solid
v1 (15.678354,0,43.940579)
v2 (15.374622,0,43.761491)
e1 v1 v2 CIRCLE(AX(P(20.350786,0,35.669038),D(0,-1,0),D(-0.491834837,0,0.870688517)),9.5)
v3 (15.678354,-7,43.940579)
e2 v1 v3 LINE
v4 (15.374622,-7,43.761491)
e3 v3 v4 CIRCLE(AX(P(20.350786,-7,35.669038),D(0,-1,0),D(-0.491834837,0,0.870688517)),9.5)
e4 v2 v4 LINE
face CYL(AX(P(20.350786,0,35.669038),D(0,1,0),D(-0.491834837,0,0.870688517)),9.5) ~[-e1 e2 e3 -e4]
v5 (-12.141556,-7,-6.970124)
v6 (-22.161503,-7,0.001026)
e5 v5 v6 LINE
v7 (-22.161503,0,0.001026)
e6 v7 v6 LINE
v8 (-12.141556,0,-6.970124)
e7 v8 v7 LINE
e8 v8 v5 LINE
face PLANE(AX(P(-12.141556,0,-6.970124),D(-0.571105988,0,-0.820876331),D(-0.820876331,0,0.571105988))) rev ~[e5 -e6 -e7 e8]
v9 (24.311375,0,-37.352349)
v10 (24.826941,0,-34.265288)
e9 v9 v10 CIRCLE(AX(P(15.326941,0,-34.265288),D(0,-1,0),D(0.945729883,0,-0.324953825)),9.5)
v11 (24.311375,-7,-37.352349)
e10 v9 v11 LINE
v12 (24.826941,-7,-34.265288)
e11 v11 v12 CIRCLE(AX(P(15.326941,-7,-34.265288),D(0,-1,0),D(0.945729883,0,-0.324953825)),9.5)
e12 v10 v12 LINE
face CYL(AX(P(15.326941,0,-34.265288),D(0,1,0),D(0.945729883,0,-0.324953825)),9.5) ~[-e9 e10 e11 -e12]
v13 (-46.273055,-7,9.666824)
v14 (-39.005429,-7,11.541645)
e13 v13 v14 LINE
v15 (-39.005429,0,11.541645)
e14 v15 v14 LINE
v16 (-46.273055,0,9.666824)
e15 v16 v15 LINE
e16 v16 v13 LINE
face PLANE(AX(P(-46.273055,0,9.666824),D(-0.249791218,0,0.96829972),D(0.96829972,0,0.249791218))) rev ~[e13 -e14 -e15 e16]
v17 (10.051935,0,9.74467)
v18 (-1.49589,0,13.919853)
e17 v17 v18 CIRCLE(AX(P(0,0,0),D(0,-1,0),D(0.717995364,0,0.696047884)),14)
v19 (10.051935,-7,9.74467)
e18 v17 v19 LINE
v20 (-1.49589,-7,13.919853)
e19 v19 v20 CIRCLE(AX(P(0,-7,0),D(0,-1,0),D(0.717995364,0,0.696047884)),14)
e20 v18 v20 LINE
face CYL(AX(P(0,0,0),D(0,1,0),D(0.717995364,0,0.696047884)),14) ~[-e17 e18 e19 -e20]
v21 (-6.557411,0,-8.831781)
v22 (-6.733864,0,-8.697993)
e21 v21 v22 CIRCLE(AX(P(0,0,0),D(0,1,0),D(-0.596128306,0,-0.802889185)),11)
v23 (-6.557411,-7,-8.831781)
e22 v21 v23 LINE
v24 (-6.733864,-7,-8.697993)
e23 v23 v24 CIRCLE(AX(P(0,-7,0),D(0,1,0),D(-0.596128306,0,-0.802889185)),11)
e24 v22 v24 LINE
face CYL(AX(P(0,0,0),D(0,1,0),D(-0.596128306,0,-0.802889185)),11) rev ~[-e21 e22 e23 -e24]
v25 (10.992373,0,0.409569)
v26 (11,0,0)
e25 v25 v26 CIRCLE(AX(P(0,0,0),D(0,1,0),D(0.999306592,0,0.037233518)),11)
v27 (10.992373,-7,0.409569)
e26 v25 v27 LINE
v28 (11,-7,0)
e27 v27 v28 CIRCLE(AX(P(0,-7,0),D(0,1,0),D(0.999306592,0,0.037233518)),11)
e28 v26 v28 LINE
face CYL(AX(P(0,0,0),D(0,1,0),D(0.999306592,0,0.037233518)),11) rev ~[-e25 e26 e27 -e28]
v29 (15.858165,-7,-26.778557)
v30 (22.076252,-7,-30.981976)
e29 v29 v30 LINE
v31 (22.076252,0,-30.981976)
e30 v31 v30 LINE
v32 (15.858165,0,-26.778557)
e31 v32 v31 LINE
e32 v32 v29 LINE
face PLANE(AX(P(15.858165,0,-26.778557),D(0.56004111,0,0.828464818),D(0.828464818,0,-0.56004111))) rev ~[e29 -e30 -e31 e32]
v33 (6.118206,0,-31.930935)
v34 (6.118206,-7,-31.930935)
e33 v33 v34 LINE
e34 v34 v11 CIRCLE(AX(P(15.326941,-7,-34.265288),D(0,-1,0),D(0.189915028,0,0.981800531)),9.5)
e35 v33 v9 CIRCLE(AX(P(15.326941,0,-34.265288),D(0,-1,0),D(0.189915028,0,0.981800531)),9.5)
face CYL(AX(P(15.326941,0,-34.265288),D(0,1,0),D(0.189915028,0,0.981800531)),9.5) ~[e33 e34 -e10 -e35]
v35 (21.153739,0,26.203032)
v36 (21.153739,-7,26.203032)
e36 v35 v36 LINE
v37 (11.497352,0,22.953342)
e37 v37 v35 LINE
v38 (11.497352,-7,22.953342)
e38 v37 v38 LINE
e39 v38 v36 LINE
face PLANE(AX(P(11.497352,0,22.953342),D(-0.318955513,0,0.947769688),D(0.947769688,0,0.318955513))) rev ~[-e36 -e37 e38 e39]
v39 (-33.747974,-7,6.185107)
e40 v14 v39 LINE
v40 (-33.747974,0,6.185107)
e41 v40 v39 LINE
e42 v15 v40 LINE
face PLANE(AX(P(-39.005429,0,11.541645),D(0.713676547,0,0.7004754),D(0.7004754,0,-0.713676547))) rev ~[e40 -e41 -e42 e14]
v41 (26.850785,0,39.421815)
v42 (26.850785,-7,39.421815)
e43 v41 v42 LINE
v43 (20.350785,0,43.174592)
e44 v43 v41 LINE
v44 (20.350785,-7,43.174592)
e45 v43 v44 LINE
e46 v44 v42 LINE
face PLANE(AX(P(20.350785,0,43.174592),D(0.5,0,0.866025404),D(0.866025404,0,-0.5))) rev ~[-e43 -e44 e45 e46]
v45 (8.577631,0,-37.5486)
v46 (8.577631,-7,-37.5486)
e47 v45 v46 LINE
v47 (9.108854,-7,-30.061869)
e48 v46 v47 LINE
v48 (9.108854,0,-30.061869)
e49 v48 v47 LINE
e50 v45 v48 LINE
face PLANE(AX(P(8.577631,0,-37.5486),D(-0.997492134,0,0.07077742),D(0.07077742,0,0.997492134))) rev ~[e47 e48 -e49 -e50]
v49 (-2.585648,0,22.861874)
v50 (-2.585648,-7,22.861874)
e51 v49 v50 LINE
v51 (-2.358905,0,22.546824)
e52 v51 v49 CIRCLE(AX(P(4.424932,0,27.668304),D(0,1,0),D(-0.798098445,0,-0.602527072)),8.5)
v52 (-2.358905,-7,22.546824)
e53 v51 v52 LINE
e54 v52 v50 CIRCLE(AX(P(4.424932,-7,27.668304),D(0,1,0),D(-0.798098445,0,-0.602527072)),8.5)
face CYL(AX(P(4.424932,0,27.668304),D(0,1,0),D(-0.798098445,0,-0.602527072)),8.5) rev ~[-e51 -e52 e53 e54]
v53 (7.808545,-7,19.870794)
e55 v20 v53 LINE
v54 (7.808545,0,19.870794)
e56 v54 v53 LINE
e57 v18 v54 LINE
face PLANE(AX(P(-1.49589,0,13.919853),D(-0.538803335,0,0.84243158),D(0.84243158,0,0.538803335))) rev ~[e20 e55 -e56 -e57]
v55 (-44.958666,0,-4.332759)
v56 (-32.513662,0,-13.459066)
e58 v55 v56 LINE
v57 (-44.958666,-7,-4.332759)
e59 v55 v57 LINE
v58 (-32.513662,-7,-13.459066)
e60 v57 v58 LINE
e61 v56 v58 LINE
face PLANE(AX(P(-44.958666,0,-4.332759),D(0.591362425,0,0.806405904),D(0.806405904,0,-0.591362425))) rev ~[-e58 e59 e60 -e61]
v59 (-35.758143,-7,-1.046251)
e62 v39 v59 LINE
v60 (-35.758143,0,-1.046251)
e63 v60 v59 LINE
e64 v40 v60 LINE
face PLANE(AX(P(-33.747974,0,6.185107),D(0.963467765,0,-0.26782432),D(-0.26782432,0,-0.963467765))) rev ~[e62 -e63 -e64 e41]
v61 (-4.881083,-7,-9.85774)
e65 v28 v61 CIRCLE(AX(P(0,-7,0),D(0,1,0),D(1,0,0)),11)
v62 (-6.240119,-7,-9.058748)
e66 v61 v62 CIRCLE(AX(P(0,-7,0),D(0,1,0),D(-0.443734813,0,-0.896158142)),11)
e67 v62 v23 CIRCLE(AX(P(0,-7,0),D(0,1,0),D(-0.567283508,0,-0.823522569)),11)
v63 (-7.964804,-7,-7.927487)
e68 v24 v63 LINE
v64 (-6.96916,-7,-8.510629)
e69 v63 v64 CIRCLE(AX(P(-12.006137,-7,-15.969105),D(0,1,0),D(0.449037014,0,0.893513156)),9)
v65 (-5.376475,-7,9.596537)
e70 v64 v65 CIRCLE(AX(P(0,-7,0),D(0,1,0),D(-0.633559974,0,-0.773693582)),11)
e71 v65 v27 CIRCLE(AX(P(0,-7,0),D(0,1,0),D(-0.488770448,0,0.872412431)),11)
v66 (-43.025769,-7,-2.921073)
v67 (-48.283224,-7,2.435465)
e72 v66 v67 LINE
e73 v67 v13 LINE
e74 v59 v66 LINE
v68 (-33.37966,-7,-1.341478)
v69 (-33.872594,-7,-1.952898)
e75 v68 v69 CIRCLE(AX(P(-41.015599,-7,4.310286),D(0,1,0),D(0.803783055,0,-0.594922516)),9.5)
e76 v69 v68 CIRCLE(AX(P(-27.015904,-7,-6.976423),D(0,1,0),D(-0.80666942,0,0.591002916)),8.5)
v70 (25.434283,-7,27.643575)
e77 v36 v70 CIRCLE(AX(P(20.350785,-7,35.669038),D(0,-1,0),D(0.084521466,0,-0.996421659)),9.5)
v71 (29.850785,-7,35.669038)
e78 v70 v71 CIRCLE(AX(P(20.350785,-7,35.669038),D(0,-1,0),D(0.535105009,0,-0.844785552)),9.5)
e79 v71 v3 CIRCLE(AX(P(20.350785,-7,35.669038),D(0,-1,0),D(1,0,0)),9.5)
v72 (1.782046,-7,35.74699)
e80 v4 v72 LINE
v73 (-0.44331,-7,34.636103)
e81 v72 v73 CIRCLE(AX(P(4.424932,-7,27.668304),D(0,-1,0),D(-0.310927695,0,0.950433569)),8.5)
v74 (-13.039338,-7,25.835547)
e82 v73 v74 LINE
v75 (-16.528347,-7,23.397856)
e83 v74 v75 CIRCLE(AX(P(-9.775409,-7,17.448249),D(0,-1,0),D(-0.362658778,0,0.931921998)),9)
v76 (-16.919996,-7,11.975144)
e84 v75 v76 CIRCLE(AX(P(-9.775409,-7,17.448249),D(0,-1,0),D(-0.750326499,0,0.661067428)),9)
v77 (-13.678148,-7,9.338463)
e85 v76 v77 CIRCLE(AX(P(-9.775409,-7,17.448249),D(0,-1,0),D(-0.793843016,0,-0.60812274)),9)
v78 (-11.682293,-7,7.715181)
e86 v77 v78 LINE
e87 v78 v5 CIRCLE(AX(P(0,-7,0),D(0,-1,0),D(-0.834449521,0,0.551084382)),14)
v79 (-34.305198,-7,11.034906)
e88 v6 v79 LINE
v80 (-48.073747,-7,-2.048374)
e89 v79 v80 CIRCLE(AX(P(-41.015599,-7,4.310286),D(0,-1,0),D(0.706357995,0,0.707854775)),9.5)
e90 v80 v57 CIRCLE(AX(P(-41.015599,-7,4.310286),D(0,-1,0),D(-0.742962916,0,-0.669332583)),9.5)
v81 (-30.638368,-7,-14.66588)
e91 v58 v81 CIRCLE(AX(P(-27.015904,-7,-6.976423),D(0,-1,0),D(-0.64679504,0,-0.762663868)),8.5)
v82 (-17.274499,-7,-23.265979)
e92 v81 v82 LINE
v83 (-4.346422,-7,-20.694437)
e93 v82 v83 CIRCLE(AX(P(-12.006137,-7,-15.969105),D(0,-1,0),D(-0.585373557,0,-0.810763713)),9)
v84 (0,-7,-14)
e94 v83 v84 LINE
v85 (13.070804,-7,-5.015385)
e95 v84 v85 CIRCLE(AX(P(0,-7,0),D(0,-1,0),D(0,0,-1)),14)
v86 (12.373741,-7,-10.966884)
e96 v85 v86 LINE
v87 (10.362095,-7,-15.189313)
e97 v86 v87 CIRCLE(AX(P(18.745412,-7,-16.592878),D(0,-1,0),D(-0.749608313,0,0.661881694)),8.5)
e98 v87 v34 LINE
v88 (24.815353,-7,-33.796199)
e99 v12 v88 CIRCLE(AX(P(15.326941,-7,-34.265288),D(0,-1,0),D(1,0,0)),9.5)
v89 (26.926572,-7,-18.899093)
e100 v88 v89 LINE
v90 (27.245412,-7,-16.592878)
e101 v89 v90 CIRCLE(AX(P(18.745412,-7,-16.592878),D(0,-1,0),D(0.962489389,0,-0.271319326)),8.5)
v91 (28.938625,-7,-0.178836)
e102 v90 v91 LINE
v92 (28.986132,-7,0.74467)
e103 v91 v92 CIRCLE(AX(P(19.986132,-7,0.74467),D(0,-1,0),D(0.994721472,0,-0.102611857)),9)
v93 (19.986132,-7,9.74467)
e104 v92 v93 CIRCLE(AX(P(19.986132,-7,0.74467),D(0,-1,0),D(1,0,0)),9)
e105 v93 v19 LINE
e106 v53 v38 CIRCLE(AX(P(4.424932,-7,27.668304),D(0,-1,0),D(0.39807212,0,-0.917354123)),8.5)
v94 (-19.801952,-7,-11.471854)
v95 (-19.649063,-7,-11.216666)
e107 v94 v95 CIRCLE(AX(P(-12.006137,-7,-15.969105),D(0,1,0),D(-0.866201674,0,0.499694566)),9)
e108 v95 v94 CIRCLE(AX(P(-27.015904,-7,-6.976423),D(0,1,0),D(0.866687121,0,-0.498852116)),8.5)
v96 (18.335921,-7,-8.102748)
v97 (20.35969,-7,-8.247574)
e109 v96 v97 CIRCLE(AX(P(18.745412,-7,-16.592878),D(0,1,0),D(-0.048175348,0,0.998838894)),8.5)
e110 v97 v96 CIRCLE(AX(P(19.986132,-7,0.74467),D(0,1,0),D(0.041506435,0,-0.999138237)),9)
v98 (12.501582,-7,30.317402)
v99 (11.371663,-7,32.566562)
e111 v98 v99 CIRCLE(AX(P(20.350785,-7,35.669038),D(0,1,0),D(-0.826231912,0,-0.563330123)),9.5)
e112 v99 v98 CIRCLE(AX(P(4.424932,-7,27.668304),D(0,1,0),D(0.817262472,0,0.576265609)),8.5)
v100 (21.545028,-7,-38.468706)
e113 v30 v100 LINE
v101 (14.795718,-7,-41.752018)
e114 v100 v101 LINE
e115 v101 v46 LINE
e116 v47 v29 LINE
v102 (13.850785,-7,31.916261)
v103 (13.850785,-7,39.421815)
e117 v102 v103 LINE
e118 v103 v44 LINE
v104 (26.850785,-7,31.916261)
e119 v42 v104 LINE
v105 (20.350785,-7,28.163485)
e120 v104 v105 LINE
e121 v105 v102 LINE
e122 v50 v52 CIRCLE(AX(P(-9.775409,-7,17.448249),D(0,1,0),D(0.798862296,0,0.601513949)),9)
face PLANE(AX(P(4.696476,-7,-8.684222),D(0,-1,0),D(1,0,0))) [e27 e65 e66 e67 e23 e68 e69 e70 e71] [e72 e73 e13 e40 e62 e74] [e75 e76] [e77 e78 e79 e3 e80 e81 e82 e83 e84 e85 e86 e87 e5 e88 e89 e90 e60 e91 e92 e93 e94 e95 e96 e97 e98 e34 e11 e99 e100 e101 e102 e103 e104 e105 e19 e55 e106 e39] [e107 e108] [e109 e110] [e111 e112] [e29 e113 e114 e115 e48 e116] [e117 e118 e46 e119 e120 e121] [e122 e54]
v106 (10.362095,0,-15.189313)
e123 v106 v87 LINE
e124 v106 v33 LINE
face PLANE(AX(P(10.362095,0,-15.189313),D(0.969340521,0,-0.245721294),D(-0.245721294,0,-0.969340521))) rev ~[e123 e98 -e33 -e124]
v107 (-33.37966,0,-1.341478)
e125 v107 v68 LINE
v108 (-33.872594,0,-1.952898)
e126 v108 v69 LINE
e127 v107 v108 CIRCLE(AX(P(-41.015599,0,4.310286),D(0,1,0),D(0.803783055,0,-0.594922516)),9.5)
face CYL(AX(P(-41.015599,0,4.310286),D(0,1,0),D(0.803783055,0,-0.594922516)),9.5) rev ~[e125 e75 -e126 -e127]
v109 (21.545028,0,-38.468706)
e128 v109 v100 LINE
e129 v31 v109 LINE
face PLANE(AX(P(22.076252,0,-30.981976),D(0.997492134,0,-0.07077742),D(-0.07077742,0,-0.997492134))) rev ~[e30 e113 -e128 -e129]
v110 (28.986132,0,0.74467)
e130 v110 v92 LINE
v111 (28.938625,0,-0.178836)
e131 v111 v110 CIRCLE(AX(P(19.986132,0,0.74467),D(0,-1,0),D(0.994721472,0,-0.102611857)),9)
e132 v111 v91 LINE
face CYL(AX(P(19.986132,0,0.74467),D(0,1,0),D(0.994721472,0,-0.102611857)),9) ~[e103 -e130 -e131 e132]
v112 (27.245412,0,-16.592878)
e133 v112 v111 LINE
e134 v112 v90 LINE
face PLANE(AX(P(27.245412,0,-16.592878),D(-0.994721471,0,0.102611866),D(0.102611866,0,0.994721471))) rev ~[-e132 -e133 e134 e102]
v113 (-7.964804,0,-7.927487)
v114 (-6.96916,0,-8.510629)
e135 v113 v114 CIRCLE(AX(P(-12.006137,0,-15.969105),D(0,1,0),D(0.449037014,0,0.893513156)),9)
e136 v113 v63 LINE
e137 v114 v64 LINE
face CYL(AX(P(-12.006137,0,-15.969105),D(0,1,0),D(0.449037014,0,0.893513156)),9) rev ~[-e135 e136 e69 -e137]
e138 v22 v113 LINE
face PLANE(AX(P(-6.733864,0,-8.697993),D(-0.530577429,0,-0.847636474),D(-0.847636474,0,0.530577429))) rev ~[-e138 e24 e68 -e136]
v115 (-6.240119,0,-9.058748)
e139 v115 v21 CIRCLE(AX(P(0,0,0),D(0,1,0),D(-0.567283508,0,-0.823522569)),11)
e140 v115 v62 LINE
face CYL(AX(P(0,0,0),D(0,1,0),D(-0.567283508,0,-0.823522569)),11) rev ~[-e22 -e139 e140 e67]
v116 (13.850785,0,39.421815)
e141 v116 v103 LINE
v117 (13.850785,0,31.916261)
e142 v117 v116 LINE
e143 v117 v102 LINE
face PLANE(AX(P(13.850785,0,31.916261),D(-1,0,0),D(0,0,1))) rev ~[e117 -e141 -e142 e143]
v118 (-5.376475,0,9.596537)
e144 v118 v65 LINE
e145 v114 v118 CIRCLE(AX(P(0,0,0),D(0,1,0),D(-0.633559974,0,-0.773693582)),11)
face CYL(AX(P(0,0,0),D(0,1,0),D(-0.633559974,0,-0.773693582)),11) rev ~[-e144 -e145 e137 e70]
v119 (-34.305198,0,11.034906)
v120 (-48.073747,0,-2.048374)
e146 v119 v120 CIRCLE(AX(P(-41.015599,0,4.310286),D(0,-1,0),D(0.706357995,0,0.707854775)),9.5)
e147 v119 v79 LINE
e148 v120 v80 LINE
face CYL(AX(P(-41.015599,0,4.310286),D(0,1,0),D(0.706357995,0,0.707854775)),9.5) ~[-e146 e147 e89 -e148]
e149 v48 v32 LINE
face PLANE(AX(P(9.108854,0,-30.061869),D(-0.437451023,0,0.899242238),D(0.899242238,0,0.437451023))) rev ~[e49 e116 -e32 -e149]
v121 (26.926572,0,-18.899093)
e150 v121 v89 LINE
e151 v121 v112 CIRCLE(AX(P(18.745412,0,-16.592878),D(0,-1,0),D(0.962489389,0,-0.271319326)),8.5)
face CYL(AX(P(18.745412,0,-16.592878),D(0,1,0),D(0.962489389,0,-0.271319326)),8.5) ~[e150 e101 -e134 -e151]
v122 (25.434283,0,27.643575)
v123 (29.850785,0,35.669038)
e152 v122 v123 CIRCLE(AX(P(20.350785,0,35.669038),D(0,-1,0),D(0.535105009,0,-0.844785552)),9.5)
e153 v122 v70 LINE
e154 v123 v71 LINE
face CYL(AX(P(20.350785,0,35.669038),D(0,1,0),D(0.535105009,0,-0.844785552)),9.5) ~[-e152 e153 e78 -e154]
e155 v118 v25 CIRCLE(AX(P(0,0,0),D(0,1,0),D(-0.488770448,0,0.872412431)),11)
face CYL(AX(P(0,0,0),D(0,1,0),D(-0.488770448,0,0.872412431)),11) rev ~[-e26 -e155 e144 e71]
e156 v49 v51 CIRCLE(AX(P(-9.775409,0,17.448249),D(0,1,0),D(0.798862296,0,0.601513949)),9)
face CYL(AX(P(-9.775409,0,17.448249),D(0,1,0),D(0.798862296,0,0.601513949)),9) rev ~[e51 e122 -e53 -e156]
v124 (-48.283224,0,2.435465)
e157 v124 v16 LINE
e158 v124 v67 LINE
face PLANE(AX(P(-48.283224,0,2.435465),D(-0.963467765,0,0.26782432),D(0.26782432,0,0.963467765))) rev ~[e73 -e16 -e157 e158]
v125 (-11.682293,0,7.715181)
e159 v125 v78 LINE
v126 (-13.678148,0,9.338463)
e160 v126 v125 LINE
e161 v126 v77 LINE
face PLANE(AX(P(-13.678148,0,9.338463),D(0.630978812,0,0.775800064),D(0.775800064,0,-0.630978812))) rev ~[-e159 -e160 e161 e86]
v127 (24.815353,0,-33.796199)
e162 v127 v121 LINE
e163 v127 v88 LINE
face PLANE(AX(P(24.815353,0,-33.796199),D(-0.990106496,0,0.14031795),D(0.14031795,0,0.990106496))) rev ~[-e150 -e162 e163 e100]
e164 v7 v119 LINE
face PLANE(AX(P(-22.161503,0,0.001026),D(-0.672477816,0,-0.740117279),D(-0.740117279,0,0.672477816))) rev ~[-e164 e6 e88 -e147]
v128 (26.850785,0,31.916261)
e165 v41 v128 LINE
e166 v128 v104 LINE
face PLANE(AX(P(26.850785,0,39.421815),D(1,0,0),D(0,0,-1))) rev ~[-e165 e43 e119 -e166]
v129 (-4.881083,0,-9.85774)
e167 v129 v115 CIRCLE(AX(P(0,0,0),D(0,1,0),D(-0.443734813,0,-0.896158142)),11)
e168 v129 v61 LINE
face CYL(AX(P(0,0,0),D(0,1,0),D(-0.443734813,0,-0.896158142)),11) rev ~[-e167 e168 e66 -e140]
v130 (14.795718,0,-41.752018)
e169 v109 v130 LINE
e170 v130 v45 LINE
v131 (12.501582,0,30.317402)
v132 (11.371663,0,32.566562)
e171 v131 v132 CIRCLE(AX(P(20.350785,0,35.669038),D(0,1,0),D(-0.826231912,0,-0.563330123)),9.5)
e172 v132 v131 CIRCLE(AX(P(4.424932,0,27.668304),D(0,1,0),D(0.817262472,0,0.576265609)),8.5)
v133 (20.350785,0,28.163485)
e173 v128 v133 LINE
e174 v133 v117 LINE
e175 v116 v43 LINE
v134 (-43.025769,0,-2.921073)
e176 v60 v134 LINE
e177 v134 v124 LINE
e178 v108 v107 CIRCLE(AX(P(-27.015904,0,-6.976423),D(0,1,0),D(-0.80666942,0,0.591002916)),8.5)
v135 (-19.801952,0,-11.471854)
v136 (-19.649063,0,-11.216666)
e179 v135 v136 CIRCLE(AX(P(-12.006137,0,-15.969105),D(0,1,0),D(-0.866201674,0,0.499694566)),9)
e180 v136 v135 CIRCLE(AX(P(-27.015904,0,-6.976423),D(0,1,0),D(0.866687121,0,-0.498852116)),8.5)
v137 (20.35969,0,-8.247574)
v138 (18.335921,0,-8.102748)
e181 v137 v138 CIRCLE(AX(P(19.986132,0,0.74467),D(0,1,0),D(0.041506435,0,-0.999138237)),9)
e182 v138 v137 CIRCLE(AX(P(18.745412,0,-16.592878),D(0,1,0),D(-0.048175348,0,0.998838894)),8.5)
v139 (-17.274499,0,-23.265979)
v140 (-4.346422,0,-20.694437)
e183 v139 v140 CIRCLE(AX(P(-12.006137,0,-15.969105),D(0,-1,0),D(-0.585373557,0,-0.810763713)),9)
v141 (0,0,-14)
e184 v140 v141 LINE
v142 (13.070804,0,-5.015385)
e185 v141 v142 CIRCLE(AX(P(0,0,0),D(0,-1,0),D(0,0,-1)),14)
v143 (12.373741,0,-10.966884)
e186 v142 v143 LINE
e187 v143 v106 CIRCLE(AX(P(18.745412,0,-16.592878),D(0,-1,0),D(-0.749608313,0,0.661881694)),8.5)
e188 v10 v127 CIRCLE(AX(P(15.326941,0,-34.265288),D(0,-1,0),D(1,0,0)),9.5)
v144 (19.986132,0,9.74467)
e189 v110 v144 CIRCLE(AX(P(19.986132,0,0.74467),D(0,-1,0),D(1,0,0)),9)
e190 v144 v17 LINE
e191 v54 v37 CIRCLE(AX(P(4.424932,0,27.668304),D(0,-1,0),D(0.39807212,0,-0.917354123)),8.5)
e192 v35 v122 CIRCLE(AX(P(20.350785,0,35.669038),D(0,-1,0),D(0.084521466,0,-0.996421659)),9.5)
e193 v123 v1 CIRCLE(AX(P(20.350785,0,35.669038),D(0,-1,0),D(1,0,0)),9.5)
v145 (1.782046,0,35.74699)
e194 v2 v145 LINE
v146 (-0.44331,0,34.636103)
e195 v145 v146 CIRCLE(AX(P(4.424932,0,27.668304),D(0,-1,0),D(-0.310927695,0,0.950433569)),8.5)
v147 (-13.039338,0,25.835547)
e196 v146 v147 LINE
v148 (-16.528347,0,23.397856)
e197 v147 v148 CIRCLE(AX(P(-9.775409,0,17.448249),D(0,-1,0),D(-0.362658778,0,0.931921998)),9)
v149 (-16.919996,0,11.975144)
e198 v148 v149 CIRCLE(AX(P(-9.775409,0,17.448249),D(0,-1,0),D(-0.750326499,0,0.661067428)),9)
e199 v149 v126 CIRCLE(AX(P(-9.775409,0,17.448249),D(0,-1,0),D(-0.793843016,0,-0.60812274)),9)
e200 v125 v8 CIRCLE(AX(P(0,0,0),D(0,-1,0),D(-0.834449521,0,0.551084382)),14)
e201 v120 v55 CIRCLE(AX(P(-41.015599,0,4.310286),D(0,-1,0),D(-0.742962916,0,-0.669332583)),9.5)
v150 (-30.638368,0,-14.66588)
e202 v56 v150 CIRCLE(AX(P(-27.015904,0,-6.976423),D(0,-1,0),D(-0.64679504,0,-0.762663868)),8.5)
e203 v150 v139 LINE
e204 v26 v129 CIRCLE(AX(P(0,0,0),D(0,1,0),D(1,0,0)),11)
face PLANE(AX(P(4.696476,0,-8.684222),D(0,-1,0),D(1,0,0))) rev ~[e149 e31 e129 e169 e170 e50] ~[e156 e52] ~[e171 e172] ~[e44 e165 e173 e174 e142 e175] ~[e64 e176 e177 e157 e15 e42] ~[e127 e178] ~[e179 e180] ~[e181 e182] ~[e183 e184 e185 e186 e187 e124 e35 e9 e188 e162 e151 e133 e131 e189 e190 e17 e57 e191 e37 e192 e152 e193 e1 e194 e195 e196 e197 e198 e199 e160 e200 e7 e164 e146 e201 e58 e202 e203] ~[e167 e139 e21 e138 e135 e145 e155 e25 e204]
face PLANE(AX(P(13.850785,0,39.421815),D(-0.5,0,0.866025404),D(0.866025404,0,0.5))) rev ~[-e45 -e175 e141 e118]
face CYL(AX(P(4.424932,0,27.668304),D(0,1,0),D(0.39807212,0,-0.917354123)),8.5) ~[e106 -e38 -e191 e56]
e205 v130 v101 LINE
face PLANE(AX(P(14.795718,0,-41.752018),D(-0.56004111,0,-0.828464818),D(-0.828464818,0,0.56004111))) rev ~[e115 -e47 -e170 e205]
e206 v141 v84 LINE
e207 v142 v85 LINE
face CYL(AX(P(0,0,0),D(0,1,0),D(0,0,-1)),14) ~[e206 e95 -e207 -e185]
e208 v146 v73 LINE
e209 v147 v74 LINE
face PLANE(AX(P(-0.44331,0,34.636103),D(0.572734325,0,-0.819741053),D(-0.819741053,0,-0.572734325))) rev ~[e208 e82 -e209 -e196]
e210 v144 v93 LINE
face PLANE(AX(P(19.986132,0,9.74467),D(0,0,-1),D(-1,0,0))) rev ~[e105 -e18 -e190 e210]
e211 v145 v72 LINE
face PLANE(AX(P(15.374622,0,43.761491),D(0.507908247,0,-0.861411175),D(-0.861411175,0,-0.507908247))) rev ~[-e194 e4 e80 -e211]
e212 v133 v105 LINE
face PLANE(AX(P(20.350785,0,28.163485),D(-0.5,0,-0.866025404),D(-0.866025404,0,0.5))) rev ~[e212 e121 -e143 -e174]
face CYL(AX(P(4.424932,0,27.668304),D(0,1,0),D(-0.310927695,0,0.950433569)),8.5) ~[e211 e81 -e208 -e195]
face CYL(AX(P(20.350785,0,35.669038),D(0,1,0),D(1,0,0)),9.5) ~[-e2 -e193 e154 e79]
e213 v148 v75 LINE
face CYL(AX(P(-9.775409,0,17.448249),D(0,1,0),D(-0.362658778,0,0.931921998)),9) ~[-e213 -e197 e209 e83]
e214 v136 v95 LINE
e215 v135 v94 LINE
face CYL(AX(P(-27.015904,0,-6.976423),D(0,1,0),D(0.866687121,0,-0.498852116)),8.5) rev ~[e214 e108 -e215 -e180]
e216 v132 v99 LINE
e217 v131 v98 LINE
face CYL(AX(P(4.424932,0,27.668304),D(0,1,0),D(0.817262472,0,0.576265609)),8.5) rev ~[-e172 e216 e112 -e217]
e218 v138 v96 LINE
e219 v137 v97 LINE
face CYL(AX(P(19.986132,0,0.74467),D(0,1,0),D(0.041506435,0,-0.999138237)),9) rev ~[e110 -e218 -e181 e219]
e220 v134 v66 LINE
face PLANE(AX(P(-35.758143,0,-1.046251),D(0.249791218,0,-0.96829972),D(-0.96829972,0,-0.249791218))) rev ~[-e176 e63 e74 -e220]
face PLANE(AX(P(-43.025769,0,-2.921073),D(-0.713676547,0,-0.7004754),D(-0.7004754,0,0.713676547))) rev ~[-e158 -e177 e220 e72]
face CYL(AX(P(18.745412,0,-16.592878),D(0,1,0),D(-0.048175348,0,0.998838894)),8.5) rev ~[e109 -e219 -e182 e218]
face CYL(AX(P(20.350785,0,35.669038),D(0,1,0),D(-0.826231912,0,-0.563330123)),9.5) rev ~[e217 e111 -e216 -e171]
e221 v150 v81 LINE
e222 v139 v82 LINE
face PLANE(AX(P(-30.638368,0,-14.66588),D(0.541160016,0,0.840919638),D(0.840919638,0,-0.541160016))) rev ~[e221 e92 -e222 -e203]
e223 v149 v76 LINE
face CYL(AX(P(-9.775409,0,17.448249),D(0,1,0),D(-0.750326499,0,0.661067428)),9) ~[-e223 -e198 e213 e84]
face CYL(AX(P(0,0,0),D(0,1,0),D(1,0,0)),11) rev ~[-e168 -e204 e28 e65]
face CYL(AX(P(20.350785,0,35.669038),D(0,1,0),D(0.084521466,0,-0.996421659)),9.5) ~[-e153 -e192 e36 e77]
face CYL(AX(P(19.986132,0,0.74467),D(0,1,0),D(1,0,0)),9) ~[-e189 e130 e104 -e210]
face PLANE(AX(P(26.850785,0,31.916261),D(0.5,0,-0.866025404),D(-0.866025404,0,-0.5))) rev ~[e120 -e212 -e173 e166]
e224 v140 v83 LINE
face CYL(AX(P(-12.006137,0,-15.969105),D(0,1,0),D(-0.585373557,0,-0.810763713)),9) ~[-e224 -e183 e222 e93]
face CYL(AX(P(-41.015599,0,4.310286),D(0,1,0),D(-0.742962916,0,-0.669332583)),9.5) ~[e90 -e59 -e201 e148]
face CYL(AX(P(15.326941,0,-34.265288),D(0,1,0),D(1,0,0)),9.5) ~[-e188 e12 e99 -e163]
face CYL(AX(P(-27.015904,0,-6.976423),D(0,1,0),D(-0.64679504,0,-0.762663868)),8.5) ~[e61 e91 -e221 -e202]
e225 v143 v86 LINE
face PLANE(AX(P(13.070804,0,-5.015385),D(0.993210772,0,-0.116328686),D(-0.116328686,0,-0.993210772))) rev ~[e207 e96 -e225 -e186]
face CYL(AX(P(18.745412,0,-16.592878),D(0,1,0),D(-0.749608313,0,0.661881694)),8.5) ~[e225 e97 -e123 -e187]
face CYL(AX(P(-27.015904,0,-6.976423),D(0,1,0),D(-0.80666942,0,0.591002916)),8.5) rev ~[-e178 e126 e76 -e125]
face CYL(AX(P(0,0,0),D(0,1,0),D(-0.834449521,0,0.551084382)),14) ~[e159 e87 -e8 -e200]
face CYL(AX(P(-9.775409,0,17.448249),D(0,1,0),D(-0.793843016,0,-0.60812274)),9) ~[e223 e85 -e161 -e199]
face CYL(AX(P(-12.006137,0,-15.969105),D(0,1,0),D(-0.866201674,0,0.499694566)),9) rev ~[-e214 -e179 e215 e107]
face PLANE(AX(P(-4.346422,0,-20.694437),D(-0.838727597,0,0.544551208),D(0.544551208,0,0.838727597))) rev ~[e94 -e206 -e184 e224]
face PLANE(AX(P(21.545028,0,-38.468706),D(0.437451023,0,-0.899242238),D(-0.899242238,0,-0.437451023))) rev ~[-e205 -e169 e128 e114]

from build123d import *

# Parameters (mm, degrees)
F1_DEPTH = 7


with BuildPart() as f1:
    # F0 (on Front) → F1 (new body)
    with BuildSketch(Plane.XZ):
        with BuildLine():
            ThreePointArc((11, 0), (5.8012105465, -9.3459058521), (-4.8810829447, -9.8577395628))
            ThreePointArc((-4.8810829447, -9.8577395628), (-5.5749329735, -9.4826221237), (-6.2401185881, -9.0587482582))
            ThreePointArc((-6.2401185881, -9.0587482582), (-4.4334688175, -11.105495634), (-3.3236127951, -13.5997646299))
            ThreePointArc((-3.3236127951, -13.5997646299), (-1.6738122926, -13.8995810156), (0, -14))
            ThreePointArc((0, -14), (7.9304668623, -11.5372308352), (13.0708038317, -5.0153850494))
            ThreePointArc((13.0708038317, -5.0153850494), (11.5818296218, -2.4752215759), (10.9923725134, 0.4095687088))
            ThreePointArc((10.9923725134, 0.4095687088), (10.998092963, 0.2048198634), (11, 0))
        make_face()
        with BuildLine():
            ThreePointArc((-5.376474925, 9.5965367389), (5.3837414339, 9.5924620496), (10.9923725134, 0.4095687088))
            ThreePointArc((10.9923725134, 0.4095687088), (11.3655224252, 3.3302251077), (12.6613409157, 5.9741481582))
            ThreePointArc((12.6613409157, 5.9741481582), (11.5120561281, 7.9669670329), (10.0519351006, 9.7446703758))
            ThreePointArc((10.0519351006, 9.7446703758), (4.7602009643, 13.1658834409), (-1.4958903607, 13.9198531612))
            ThreePointArc((-1.4958903607, 13.9198531612), (-3.0777558878, 11.4364731057), (-5.376474925, 9.5965367389))
        make_face()
        with BuildLine():
            ThreePointArc((12.6613409157, 5.9741481582), (11.3655224252, 3.3302251077), (10.9923725134, 0.4095687088))
            ThreePointArc((10.9923725134, 0.4095687088), (11.5818296218, -2.4752215759), (13.0708038317, -5.0153850494))
            ThreePointArc((13.0708038317, -5.0153850494), (13.765741056, -2.5503672634), (14, 0))
            ThreePointArc((14, 0), (13.6612366355, 3.0611457969), (12.6613409157, 5.9741481582))
        make_face()
        with BuildLine():
            Line((-8.3457962775, -11.2404485895), (-6.5574113609, -8.8317810346))
            ThreePointArc((-6.5574113609, -8.8317810346), (-6.6459743499, -8.7653308517), (-6.7338640067, -8.6979926155))
            Line((-6.7338640067, -8.6979926155), (-7.9648038145, -7.9274867454))
            ThreePointArc((-7.9648038145, -7.9274867454), (-9.9953714425, -7.1966013967), (-12.1415555616, -6.9701239979))
            ThreePointArc((-12.1415555616, -6.9701239979), (-10.4638336366, -9.3009776704), (-8.3457962775, -11.2404485895))
        make_face()
        with BuildLine():
            ThreePointArc((-3.0061369382, -15.9691051511), (-3.0858589916, -14.7738472893), (-3.3236127951, -13.5997646299))
            ThreePointArc((-3.3236127951, -13.5997646299), (-5.95276155, -12.6714099424), (-8.3457962775, -11.2404485895))
            Line((-8.3457962775, -11.2404485895), (-17.2744989499, -23.2659785715))
            ThreePointArc((-17.2744989499, -23.2659785715), (-10.2503324106, -24.7961743397), (-4.3464215016, -20.6944368252))
            ThreePointArc((-4.3464215016, -20.6944368252), (-3.3476890712, -18.424971706), (-3.0061369382, -15.9691051511))
        make_face()
        with BuildLine():
            ThreePointArc((0, -14), (-1.6738122926, -13.8995810156), (-3.3236127951, -13.5997646299))
            ThreePointArc((-3.3236127951, -13.5997646299), (-3.0858589916, -14.7738472893), (-3.0061369382, -15.9691051511))
            ThreePointArc((-3.0061369382, -15.9691051511), (-3.3476890712, -18.424971706), (-4.3464215016, -20.6944368252))
            Line((-4.3464215016, -20.6944368252), (0, -14))
        make_face()
        with BuildLine():
            ThreePointArc((-6.969159713, -8.5106294065), (-10.9576931928, 0.9638256544), (-5.376474925, 9.5965367389))
            ThreePointArc((-5.376474925, 9.5965367389), (-8.1460141659, 8.5969734972), (-11.0899483994, 8.5447670828))
            ThreePointArc((-11.0899483994, 8.5447670828), (-11.3936737324, 8.1353671632), (-11.6822932995, 7.71518135))
            ThreePointArc((-11.6822932995, 7.71518135), (-13.9931587545, 0.4376163512), (-12.1415555616, -6.9701239979))
            ThreePointArc((-12.1415555616, -6.9701239979), (-9.9953714425, -7.1966013967), (-7.9648038145, -7.9274867454))
            ThreePointArc((-7.9648038145, -7.9274867454), (-7.4576269032, -8.2030858065), (-6.969159713, -8.5106294065))
        make_face()
        with BuildLine():
            ThreePointArc((-11.0899483994, 8.5447670828), (-8.1460141659, 8.5969734972), (-5.376474925, 9.5965367389))
            ThreePointArc((-5.376474925, 9.5965367389), (-3.0777558878, 11.4364731057), (-1.4958903607, 13.9198531612))
            ThreePointArc((-1.4958903607, 13.9198531612), (-6.842786122, 12.2137741132), (-11.0899483994, 8.5447670828))
        make_face()
        with BuildLine():
            ThreePointArc((19.9861318426, 9.7446703758), (15.8669875166, 8.7467107419), (12.6613409157, 5.9741481582))
            ThreePointArc((12.6613409157, 5.9741481582), (13.6612366355, 3.0611457969), (14, 0))
            ThreePointArc((14, 0), (13.765741056, -2.5503672634), (13.0708038317, -5.0153850494))
            ThreePointArc((13.0708038317, -5.0153850494), (15.4336529722, -7.0190230838), (18.3359214805, -8.1027476521))
            ThreePointArc((18.3359214805, -8.1027476521), (19.3521423539, -8.1145601259), (20.3596897588, -8.2475737537))
            ThreePointArc((20.3596897588, -8.2475737537), (26.1521628551, -5.8112476799), (28.9386250903, -0.1788363383))
            ThreePointArc((28.9386250903, -0.1788363383), (28.9742473078, 0.2823064654), (28.9861318426, 0.7446703758))
            ThreePointArc((28.9861318426, 0.7446703758), (26.3500928733, 7.1086314065), (19.9861318426, 9.7446703758))
        make_face()
        with BuildLine():
            ThreePointArc((10.0519351006, 9.7446703758), (11.5120561281, 7.9669670329), (12.6613409157, 5.9741481582))
            ThreePointArc((12.6613409157, 5.9741481582), (15.8669875166, 8.7467107419), (19.9861318426, 9.7446703758))
            Line((19.9861318426, 9.7446703758), (10.0519351006, 9.7446703758))
        make_face()
        with BuildLine():
            ThreePointArc((18.3359214805, -8.1027476521), (15.4336529722, -7.0190230838), (13.0708038317, -5.0153850494))
            Line((13.0708038317, -5.0153850494), (12.3737412803, -10.9668838503))
            ThreePointArc((12.3737412803, -10.9668838503), (15.0648066133, -8.9310805222), (18.3359214805, -8.1027476521))
        make_face()
        with BuildLine():
            Line((-17.2744989499, -23.2659785715), (-8.3457962775, -11.2404485895))
            ThreePointArc((-8.3457962775, -11.2404485895), (-10.4638336366, -9.3009776704), (-12.1415555616, -6.9701239979))
            ThreePointArc((-12.1415555616, -6.9701239979), (-16.43715736, -8.1354560639), (-19.649063201, -11.216665973))
            ThreePointArc((-19.649063201, -11.216665973), (-19.724391136, -11.344928916), (-19.8019520078, -11.4718540574))
            ThreePointArc((-19.8019520078, -11.4718540574), (-20.8063371613, -17.854967297), (-17.2744989499, -23.2659785715))
        make_face()
        with BuildLine():
            ThreePointArc((-13.6781476127, 9.3384627103), (-12.4140612385, 8.8437433423), (-11.0899483994, 8.5447670828))
            ThreePointArc((-11.0899483994, 8.5447670828), (-6.842786122, 12.2137741132), (-1.4958903607, 13.9198531612))
            ThreePointArc((-1.4958903607, 13.9198531612), (-0.9573685591, 15.6476468151), (-0.7754087457, 17.4482487332))
            ThreePointArc((-0.7754087457, 17.4482487332), (-1.1803946677, 20.1176555958), (-2.3589049675, 22.5468241919))
            ThreePointArc((-2.3589049675, 22.5468241919), (-2.4740751428, 22.7030547607), (-2.5856480794, 22.86187428))
            ThreePointArc((-2.5856480794, 22.86187428), (-7.3129464625, 26.1048230847), (-13.0393377511, 25.8355467157))
            Line((-13.0393377511, 25.8355467157), (-16.5283472399, 23.3978555852))
            ThreePointArc((-16.5283472399, 23.3978555852), (-18.7701232631, 17.7566490427), (-16.9199958862, 11.9751440757))
            Line((-16.9199958862, 11.9751440757), (-13.6781476127, 9.3384627103))
        make_face()
        with BuildLine():
            ThreePointArc((-11.6822932995, 7.71518135), (-11.3936737324, 8.1353671632), (-11.0899483994, 8.5447670828))
            ThreePointArc((-11.0899483994, 8.5447670828), (-12.4140612385, 8.8437433423), (-13.6781476127, 9.3384627103))
            Line((-13.6781476127, 9.3384627103), (-11.6822932995, 7.71518135))
        make_face()
        with BuildLine():
            ThreePointArc((-0.7754087457, 17.4482487332), (-0.9573685591, 15.6476468151), (-1.4958903607, 13.9198531612))
            Line((-1.4958903607, 13.9198531612), (7.8085448357, 19.8707942581))
            ThreePointArc((7.8085448357, 19.8707942581), (2.2614474815, 19.4482473971), (-2.3589049675, 22.5468241919))
            ThreePointArc((-2.3589049675, 22.5468241919), (-1.1803946677, 20.1176555958), (-0.7754087457, 17.4482487332))
        make_face()
        with BuildLine():
            ThreePointArc((20.3596897588, -8.2475737537), (19.3437114064, -8.2323723435), (18.3359214805, -8.1027476521))
            ThreePointArc((18.3359214805, -8.1027476521), (15.0648066133, -8.9310805222), (12.3737412803, -10.9668838503))
            ThreePointArc((12.3737412803, -10.9668838503), (11.0717790846, -12.9370118992), (10.3620949656, -15.1893126205))
            ThreePointArc((10.3620949656, -15.1893126205), (11.7634284882, -21.4407548005), (17.1311340372, -24.9381827286))
            ThreePointArc((17.1311340372, -24.9381827286), (23.2062007851, -23.828302418), (26.9265717457, -18.8990925208))
            ThreePointArc((26.9265717457, -18.8990925208), (27.1653245998, -17.7569533476), (27.2454119419, -16.5928782496))
            ThreePointArc((27.2454119419, -16.5928782496), (25.3017585405, -11.1832276806), (20.3596897588, -8.2475737537))
        make_face()
        with BuildLine():
            ThreePointArc((-19.649063201, -11.216665973), (-16.43715736, -8.1354560639), (-12.1415555616, -6.9701239979))
            Line((-12.1415555616, -6.9701239979), (-22.1615028292, 0.0010258267))
            ThreePointArc((-22.1615028292, 0.0010258267), (-19.4822323923, -3.0402070119), (-18.5159037303, -6.9764229829))
            ThreePointArc((-18.5159037303, -6.9764229829), (-18.804078583, -9.1709451975), (-19.649063201, -11.216665973))
        make_face()
        with BuildLine():
            Line((-30.6383680452, -14.6658801996), (-17.2744989499, -23.2659785715))
            ThreePointArc((-17.2744989499, -23.2659785715), (-20.8063371613, -17.854967297), (-19.8019520078, -11.4718540574))
            ThreePointArc((-19.8019520078, -11.4718540574), (-24.6127503438, -15.1296342399), (-30.6383680452, -14.6658801996))
        make_face()
        with BuildLine():
            ThreePointArc((-16.9199958862, 11.9751440757), (-15.4542180518, 10.4660481585), (-13.6781476127, 9.3384627103))
            Line((-13.6781476127, 9.3384627103), (-16.9199958862, 11.9751440757))
        make_face()
        with BuildLine():
            ThreePointArc((-2.3589049675, 22.5468241919), (2.2614474815, 19.4482473971), (7.8085448357, 19.8707942581))
            ThreePointArc((7.8085448357, 19.8707942581), (9.8754074452, 21.1458572643), (11.4973523143, 22.953342135))
            ThreePointArc((11.4973523143, 22.953342135), (12.5602122095, 25.2051330004), (12.9249318129, 27.6683043037))
            ThreePointArc((12.9249318129, 27.6683043037), (12.8184271648, 29.0096602515), (12.501582218, 30.3174019302))
            ThreePointArc((12.501582218, 30.3174019302), (11.8618032949, 31.4043947248), (11.3716628248, 32.5665619785))
            ThreePointArc((11.3716628248, 32.5665619785), (7.1006656903, 35.7361694623), (1.7820464101, 35.7469896391))
            ThreePointArc((1.7820464101, 35.7469896391), (0.6285157486, 35.2733832031), (-0.4433099416, 34.6361032546))
            ThreePointArc((-0.4433099416, 34.6361032546), (-3.9377661917, 29.1899094049), (-2.5856480794, 22.86187428))
            ThreePointArc((-2.5856480794, 22.86187428), (-2.4705778514, 22.7055717787), (-2.3589049675, 22.5468241919))
        make_face()
        with BuildLine():
            ThreePointArc((28.9386250903, -0.1788363383), (26.1521628551, -5.8112476799), (20.3596897588, -8.2475737537))
            ThreePointArc((20.3596897588, -8.2475737537), (25.3017585405, -11.1832276806), (27.2454119419, -16.5928782496))
            Line((27.2454119419, -16.5928782496), (28.9386250903, -0.1788363383))
        make_face()
        with BuildLine():
            ThreePointArc((17.1311340372, -24.9381827286), (11.7634284882, -21.4407548005), (10.3620949656, -15.1893126205))
            Line((10.3620949656, -15.1893126205), (6.1182063209, -31.9309354787))
            ThreePointArc((6.1182063209, -31.9309354787), (10.2346471912, -26.2454036686), (17.1311340372, -24.9381827286))
        make_face()
        with BuildLine():
            ThreePointArc((-19.8019520078, -11.4718540574), (-19.726562038, -11.3436282808), (-19.649063201, -11.216665973))
            ThreePointArc((-19.649063201, -11.216665973), (-18.804078583, -9.1709451975), (-18.5159037303, -6.9764229829))
            ThreePointArc((-18.5159037303, -6.9764229829), (-19.4822323923, -3.0402070119), (-22.1615028292, 0.0010258267))
            ThreePointArc((-22.1615028292, 0.0010258267), (-28.0259123715, 1.4633567858), (-33.3796599915, -1.3414778857))
            ThreePointArc((-33.3796599915, -1.3414778857), (-33.6198058263, -1.6522841582), (-33.8725938013, -1.9528981975))
            ThreePointArc((-33.8725938013, -1.9528981975), (-35.4572347505, -7.9733836681), (-32.5136615696, -13.4590658653))
            Line((-32.5136615696, -13.4590658653), (-30.6383680452, -14.6658801996))
            ThreePointArc((-30.6383680452, -14.6658801996), (-24.6127503438, -15.1296342399), (-19.8019520078, -11.4718540574))
        make_face()
        with BuildLine():
            ThreePointArc((-33.3796599915, -1.3414778857), (-28.0259123715, 1.4633567858), (-22.1615028292, 0.0010258267))
            Line((-22.1615028292, 0.0010258267), (-34.305198064, 11.0349063801))
            ThreePointArc((-34.305198064, 11.0349063801), (-32.2406685601, 7.9504227537), (-31.5155990172, 4.3102860156))
            ThreePointArc((-31.5155990172, 4.3102860156), (-31.9936418918, 1.3346701754), (-33.3796599915, -1.3414778857))
        make_face()
        with BuildLine():
            ThreePointArc((-32.5136615696, -13.4590658653), (-31.6157638635, -14.1242399053), (-30.6383680452, -14.6658801996))
            Line((-30.6383680452, -14.6658801996), (-32.5136615696, -13.4590658653))
        make_face()
        with BuildLine():
            ThreePointArc((12.9249318129, 27.6683043037), (12.5602122095, 25.2051330004), (11.4973523143, 22.953342135))
            Line((11.4973523143, 22.953342135), (21.1537393142, 26.2030323395))
            ThreePointArc((21.1537393142, 26.2030323395), (16.271028485, 27.0896684433), (12.501582218, 30.3174019302))
            ThreePointArc((12.501582218, 30.3174019302), (12.8184271648, 29.0096602515), (12.9249318129, 27.6683043037))
        make_face()
        with BuildLine():
            ThreePointArc((26.9265717457, -18.8990925208), (23.2062007851, -23.828302418), (17.1311340372, -24.9381827286))
            ThreePointArc((17.1311340372, -24.9381827286), (22.5030713208, -28.0400843595), (24.8153529335, -33.7961991646))
            Line((24.8153529335, -33.7961991646), (26.9265717457, -18.8990925208))
        make_face()
        with BuildLine():
            ThreePointArc((24.8153529335, -33.7961991646), (22.5030713208, -28.0400843595), (17.1311340372, -24.9381827286))
            ThreePointArc((17.1311340372, -24.9381827286), (10.2346471912, -26.2454036686), (6.1182063209, -31.9309354787))
            ThreePointArc((6.1182063209, -31.9309354787), (12.6139154346, -43.3696543498), (24.311375158, -37.3523491122))
            Line((24.311375158, -37.3523491122), (24.8153529335, -33.7961991646))
        make_face()
        Polygon((22.0762519958, -30.9819757122), (21.5450282843, -38.4687062871), (14.7957175594, -41.7520183454), (8.577630546, -37.5485998287), (9.1088542574, -30.0618692537), (15.8581649824, -26.7785571955), align=None, mode=Mode.SUBTRACT)
        with BuildLine():
            ThreePointArc((-33.8725938013, -1.9528981975), (-33.6331923749, -1.6414917748), (-33.3796599915, -1.3414778857))
            ThreePointArc((-33.3796599915, -1.3414778857), (-31.9936418918, 1.3346701754), (-31.5155990172, 4.3102860156))
            ThreePointArc((-31.5155990172, 4.3102860156), (-32.2406685601, 7.9504227537), (-34.305198064, 11.0349063801))
            ThreePointArc((-34.305198064, 11.0349063801), (-47.5595492901, 11.1969916739), (-48.0737467156, -2.0483735183))
            Line((-48.0737467156, -2.0483735183), (-44.9586657717, -4.3327588512))
            ThreePointArc((-44.9586657717, -4.3327588512), (-39.021649238, -4.9781026648), (-33.8725938013, -1.9528981975))
        make_face()
        Polygon((-43.0257687757, -2.9210728384), (-48.2832243679, 2.4354646654), (-46.2730546094, 9.6668235194), (-39.0054292586, 11.5416448695), (-33.7479736665, 6.1851073657), (-35.758143425, -1.0462514883), align=None, mode=Mode.SUBTRACT)
        with BuildLine():
            Line((-44.9586657717, -4.3327588512), (-32.5136615696, -13.4590658653))
            ThreePointArc((-32.5136615696, -13.4590658653), (-35.4572347505, -7.9733836681), (-33.8725938013, -1.9528981975))
            ThreePointArc((-33.8725938013, -1.9528981975), (-39.021649238, -4.9781026648), (-44.9586657717, -4.3327588512))
        make_face()
        with BuildLine():
            ThreePointArc((-13.0393377511, 25.8355467157), (-14.9300176676, 24.8259182068), (-16.5283472399, 23.3978555852))
            Line((-16.5283472399, 23.3978555852), (-13.0393377511, 25.8355467157))
        make_face()
        with BuildLine():
            ThreePointArc((-13.0393377511, 25.8355467157), (-7.3129464625, 26.1048230847), (-2.5856480794, 22.86187428))
            ThreePointArc((-2.5856480794, 22.86187428), (-3.9377661917, 29.1899094049), (-0.4433099416, 34.6361032546))
            Line((-0.4433099416, 34.6361032546), (-13.0393377511, 25.8355467157))
        make_face()
        with BuildLine():
            Line((25.4342829671, 27.6435753478), (21.1537393142, 26.2030323395))
            ThreePointArc((21.1537393142, 26.2030323395), (23.3808627584, 26.6652260642), (25.4342829671, 27.6435753478))
        make_face()
        with BuildLine():
            ThreePointArc((12.501582218, 30.3174019302), (16.271028485, 27.0896684433), (21.1537393142, 26.2030323395))
            Line((21.1537393142, 26.2030323395), (25.4342829671, 27.6435753478))
            ThreePointArc((25.4342829671, 27.6435753478), (28.673742402, 31.0888212365), (29.8507853844, 35.6690380962))
            ThreePointArc((29.8507853844, 35.6690380962), (25.1394128473, 43.8738566208), (15.6783544325, 43.9405790046))
            Line((15.6783544325, 43.9405790046), (15.3746215347, 43.7614909593))
            ThreePointArc((15.3746215347, 43.7614909593), (11.405445066, 38.8676138087), (11.3716628248, 32.5665619785))
            ThreePointArc((11.3716628248, 32.5665619785), (12.0203368403, 31.4840378465), (12.501582218, 30.3174019302))
        make_face()
        Polygon((20.3507853844, 28.1634845967), (13.8507853844, 31.9162613465), (13.8507853844, 39.4218148459), (20.3507853844, 43.1745915957), (26.8507853844, 39.4218148459), (26.8507853844, 31.9162613465), align=None, mode=Mode.SUBTRACT)
        with BuildLine():
            ThreePointArc((24.8269412709, -34.2652877704), (24.8240437447, -34.030671909), (24.8153529335, -33.7961991646))
            Line((24.8153529335, -33.7961991646), (24.311375158, -37.3523491122))
            ThreePointArc((24.311375158, -37.3523491122), (24.6971633047, -35.8301964055), (24.8269412709, -34.2652877704))
        make_face()
        with BuildLine():
            Line((-44.9586657717, -4.3327588512), (-48.0737467156, -2.0483735183))
            ThreePointArc((-48.0737467156, -2.0483735183), (-46.6335420524, -3.3505700758), (-44.9586657717, -4.3327588512))
        make_face()
        with BuildLine():
            Line((15.3746215347, 43.7614909593), (1.7820464101, 35.7469896391))
            ThreePointArc((1.7820464101, 35.7469896391), (7.1006656903, 35.7361694623), (11.3716628248, 32.5665619785))
            ThreePointArc((11.3716628248, 32.5665619785), (11.405445066, 38.8676138087), (15.3746215347, 43.7614909593))
        make_face()
        with BuildLine():
            ThreePointArc((15.6783544325, 43.9405790046), (15.5256570397, 43.8524442609), (15.3746215347, 43.7614909593))
            Line((15.3746215347, 43.7614909593), (15.6783544325, 43.9405790046))
        make_face()
        with BuildLine():
            ThreePointArc((-3.3236127951, -13.5997646299), (-4.4334688175, -11.105495634), (-6.2401185881, -9.0587482582))
            ThreePointArc((-6.2401185881, -9.0587482582), (-6.3997712248, -8.9466713514), (-6.5574113609, -8.8317810346))
            Line((-6.5574113609, -8.8317810346), (-8.3457962775, -11.2404485895))
            ThreePointArc((-8.3457962775, -11.2404485895), (-5.95276155, -12.6714099424), (-3.3236127951, -13.5997646299))
        make_face()
    extrude(amount=F1_DEPTH)


solid = f1.part
